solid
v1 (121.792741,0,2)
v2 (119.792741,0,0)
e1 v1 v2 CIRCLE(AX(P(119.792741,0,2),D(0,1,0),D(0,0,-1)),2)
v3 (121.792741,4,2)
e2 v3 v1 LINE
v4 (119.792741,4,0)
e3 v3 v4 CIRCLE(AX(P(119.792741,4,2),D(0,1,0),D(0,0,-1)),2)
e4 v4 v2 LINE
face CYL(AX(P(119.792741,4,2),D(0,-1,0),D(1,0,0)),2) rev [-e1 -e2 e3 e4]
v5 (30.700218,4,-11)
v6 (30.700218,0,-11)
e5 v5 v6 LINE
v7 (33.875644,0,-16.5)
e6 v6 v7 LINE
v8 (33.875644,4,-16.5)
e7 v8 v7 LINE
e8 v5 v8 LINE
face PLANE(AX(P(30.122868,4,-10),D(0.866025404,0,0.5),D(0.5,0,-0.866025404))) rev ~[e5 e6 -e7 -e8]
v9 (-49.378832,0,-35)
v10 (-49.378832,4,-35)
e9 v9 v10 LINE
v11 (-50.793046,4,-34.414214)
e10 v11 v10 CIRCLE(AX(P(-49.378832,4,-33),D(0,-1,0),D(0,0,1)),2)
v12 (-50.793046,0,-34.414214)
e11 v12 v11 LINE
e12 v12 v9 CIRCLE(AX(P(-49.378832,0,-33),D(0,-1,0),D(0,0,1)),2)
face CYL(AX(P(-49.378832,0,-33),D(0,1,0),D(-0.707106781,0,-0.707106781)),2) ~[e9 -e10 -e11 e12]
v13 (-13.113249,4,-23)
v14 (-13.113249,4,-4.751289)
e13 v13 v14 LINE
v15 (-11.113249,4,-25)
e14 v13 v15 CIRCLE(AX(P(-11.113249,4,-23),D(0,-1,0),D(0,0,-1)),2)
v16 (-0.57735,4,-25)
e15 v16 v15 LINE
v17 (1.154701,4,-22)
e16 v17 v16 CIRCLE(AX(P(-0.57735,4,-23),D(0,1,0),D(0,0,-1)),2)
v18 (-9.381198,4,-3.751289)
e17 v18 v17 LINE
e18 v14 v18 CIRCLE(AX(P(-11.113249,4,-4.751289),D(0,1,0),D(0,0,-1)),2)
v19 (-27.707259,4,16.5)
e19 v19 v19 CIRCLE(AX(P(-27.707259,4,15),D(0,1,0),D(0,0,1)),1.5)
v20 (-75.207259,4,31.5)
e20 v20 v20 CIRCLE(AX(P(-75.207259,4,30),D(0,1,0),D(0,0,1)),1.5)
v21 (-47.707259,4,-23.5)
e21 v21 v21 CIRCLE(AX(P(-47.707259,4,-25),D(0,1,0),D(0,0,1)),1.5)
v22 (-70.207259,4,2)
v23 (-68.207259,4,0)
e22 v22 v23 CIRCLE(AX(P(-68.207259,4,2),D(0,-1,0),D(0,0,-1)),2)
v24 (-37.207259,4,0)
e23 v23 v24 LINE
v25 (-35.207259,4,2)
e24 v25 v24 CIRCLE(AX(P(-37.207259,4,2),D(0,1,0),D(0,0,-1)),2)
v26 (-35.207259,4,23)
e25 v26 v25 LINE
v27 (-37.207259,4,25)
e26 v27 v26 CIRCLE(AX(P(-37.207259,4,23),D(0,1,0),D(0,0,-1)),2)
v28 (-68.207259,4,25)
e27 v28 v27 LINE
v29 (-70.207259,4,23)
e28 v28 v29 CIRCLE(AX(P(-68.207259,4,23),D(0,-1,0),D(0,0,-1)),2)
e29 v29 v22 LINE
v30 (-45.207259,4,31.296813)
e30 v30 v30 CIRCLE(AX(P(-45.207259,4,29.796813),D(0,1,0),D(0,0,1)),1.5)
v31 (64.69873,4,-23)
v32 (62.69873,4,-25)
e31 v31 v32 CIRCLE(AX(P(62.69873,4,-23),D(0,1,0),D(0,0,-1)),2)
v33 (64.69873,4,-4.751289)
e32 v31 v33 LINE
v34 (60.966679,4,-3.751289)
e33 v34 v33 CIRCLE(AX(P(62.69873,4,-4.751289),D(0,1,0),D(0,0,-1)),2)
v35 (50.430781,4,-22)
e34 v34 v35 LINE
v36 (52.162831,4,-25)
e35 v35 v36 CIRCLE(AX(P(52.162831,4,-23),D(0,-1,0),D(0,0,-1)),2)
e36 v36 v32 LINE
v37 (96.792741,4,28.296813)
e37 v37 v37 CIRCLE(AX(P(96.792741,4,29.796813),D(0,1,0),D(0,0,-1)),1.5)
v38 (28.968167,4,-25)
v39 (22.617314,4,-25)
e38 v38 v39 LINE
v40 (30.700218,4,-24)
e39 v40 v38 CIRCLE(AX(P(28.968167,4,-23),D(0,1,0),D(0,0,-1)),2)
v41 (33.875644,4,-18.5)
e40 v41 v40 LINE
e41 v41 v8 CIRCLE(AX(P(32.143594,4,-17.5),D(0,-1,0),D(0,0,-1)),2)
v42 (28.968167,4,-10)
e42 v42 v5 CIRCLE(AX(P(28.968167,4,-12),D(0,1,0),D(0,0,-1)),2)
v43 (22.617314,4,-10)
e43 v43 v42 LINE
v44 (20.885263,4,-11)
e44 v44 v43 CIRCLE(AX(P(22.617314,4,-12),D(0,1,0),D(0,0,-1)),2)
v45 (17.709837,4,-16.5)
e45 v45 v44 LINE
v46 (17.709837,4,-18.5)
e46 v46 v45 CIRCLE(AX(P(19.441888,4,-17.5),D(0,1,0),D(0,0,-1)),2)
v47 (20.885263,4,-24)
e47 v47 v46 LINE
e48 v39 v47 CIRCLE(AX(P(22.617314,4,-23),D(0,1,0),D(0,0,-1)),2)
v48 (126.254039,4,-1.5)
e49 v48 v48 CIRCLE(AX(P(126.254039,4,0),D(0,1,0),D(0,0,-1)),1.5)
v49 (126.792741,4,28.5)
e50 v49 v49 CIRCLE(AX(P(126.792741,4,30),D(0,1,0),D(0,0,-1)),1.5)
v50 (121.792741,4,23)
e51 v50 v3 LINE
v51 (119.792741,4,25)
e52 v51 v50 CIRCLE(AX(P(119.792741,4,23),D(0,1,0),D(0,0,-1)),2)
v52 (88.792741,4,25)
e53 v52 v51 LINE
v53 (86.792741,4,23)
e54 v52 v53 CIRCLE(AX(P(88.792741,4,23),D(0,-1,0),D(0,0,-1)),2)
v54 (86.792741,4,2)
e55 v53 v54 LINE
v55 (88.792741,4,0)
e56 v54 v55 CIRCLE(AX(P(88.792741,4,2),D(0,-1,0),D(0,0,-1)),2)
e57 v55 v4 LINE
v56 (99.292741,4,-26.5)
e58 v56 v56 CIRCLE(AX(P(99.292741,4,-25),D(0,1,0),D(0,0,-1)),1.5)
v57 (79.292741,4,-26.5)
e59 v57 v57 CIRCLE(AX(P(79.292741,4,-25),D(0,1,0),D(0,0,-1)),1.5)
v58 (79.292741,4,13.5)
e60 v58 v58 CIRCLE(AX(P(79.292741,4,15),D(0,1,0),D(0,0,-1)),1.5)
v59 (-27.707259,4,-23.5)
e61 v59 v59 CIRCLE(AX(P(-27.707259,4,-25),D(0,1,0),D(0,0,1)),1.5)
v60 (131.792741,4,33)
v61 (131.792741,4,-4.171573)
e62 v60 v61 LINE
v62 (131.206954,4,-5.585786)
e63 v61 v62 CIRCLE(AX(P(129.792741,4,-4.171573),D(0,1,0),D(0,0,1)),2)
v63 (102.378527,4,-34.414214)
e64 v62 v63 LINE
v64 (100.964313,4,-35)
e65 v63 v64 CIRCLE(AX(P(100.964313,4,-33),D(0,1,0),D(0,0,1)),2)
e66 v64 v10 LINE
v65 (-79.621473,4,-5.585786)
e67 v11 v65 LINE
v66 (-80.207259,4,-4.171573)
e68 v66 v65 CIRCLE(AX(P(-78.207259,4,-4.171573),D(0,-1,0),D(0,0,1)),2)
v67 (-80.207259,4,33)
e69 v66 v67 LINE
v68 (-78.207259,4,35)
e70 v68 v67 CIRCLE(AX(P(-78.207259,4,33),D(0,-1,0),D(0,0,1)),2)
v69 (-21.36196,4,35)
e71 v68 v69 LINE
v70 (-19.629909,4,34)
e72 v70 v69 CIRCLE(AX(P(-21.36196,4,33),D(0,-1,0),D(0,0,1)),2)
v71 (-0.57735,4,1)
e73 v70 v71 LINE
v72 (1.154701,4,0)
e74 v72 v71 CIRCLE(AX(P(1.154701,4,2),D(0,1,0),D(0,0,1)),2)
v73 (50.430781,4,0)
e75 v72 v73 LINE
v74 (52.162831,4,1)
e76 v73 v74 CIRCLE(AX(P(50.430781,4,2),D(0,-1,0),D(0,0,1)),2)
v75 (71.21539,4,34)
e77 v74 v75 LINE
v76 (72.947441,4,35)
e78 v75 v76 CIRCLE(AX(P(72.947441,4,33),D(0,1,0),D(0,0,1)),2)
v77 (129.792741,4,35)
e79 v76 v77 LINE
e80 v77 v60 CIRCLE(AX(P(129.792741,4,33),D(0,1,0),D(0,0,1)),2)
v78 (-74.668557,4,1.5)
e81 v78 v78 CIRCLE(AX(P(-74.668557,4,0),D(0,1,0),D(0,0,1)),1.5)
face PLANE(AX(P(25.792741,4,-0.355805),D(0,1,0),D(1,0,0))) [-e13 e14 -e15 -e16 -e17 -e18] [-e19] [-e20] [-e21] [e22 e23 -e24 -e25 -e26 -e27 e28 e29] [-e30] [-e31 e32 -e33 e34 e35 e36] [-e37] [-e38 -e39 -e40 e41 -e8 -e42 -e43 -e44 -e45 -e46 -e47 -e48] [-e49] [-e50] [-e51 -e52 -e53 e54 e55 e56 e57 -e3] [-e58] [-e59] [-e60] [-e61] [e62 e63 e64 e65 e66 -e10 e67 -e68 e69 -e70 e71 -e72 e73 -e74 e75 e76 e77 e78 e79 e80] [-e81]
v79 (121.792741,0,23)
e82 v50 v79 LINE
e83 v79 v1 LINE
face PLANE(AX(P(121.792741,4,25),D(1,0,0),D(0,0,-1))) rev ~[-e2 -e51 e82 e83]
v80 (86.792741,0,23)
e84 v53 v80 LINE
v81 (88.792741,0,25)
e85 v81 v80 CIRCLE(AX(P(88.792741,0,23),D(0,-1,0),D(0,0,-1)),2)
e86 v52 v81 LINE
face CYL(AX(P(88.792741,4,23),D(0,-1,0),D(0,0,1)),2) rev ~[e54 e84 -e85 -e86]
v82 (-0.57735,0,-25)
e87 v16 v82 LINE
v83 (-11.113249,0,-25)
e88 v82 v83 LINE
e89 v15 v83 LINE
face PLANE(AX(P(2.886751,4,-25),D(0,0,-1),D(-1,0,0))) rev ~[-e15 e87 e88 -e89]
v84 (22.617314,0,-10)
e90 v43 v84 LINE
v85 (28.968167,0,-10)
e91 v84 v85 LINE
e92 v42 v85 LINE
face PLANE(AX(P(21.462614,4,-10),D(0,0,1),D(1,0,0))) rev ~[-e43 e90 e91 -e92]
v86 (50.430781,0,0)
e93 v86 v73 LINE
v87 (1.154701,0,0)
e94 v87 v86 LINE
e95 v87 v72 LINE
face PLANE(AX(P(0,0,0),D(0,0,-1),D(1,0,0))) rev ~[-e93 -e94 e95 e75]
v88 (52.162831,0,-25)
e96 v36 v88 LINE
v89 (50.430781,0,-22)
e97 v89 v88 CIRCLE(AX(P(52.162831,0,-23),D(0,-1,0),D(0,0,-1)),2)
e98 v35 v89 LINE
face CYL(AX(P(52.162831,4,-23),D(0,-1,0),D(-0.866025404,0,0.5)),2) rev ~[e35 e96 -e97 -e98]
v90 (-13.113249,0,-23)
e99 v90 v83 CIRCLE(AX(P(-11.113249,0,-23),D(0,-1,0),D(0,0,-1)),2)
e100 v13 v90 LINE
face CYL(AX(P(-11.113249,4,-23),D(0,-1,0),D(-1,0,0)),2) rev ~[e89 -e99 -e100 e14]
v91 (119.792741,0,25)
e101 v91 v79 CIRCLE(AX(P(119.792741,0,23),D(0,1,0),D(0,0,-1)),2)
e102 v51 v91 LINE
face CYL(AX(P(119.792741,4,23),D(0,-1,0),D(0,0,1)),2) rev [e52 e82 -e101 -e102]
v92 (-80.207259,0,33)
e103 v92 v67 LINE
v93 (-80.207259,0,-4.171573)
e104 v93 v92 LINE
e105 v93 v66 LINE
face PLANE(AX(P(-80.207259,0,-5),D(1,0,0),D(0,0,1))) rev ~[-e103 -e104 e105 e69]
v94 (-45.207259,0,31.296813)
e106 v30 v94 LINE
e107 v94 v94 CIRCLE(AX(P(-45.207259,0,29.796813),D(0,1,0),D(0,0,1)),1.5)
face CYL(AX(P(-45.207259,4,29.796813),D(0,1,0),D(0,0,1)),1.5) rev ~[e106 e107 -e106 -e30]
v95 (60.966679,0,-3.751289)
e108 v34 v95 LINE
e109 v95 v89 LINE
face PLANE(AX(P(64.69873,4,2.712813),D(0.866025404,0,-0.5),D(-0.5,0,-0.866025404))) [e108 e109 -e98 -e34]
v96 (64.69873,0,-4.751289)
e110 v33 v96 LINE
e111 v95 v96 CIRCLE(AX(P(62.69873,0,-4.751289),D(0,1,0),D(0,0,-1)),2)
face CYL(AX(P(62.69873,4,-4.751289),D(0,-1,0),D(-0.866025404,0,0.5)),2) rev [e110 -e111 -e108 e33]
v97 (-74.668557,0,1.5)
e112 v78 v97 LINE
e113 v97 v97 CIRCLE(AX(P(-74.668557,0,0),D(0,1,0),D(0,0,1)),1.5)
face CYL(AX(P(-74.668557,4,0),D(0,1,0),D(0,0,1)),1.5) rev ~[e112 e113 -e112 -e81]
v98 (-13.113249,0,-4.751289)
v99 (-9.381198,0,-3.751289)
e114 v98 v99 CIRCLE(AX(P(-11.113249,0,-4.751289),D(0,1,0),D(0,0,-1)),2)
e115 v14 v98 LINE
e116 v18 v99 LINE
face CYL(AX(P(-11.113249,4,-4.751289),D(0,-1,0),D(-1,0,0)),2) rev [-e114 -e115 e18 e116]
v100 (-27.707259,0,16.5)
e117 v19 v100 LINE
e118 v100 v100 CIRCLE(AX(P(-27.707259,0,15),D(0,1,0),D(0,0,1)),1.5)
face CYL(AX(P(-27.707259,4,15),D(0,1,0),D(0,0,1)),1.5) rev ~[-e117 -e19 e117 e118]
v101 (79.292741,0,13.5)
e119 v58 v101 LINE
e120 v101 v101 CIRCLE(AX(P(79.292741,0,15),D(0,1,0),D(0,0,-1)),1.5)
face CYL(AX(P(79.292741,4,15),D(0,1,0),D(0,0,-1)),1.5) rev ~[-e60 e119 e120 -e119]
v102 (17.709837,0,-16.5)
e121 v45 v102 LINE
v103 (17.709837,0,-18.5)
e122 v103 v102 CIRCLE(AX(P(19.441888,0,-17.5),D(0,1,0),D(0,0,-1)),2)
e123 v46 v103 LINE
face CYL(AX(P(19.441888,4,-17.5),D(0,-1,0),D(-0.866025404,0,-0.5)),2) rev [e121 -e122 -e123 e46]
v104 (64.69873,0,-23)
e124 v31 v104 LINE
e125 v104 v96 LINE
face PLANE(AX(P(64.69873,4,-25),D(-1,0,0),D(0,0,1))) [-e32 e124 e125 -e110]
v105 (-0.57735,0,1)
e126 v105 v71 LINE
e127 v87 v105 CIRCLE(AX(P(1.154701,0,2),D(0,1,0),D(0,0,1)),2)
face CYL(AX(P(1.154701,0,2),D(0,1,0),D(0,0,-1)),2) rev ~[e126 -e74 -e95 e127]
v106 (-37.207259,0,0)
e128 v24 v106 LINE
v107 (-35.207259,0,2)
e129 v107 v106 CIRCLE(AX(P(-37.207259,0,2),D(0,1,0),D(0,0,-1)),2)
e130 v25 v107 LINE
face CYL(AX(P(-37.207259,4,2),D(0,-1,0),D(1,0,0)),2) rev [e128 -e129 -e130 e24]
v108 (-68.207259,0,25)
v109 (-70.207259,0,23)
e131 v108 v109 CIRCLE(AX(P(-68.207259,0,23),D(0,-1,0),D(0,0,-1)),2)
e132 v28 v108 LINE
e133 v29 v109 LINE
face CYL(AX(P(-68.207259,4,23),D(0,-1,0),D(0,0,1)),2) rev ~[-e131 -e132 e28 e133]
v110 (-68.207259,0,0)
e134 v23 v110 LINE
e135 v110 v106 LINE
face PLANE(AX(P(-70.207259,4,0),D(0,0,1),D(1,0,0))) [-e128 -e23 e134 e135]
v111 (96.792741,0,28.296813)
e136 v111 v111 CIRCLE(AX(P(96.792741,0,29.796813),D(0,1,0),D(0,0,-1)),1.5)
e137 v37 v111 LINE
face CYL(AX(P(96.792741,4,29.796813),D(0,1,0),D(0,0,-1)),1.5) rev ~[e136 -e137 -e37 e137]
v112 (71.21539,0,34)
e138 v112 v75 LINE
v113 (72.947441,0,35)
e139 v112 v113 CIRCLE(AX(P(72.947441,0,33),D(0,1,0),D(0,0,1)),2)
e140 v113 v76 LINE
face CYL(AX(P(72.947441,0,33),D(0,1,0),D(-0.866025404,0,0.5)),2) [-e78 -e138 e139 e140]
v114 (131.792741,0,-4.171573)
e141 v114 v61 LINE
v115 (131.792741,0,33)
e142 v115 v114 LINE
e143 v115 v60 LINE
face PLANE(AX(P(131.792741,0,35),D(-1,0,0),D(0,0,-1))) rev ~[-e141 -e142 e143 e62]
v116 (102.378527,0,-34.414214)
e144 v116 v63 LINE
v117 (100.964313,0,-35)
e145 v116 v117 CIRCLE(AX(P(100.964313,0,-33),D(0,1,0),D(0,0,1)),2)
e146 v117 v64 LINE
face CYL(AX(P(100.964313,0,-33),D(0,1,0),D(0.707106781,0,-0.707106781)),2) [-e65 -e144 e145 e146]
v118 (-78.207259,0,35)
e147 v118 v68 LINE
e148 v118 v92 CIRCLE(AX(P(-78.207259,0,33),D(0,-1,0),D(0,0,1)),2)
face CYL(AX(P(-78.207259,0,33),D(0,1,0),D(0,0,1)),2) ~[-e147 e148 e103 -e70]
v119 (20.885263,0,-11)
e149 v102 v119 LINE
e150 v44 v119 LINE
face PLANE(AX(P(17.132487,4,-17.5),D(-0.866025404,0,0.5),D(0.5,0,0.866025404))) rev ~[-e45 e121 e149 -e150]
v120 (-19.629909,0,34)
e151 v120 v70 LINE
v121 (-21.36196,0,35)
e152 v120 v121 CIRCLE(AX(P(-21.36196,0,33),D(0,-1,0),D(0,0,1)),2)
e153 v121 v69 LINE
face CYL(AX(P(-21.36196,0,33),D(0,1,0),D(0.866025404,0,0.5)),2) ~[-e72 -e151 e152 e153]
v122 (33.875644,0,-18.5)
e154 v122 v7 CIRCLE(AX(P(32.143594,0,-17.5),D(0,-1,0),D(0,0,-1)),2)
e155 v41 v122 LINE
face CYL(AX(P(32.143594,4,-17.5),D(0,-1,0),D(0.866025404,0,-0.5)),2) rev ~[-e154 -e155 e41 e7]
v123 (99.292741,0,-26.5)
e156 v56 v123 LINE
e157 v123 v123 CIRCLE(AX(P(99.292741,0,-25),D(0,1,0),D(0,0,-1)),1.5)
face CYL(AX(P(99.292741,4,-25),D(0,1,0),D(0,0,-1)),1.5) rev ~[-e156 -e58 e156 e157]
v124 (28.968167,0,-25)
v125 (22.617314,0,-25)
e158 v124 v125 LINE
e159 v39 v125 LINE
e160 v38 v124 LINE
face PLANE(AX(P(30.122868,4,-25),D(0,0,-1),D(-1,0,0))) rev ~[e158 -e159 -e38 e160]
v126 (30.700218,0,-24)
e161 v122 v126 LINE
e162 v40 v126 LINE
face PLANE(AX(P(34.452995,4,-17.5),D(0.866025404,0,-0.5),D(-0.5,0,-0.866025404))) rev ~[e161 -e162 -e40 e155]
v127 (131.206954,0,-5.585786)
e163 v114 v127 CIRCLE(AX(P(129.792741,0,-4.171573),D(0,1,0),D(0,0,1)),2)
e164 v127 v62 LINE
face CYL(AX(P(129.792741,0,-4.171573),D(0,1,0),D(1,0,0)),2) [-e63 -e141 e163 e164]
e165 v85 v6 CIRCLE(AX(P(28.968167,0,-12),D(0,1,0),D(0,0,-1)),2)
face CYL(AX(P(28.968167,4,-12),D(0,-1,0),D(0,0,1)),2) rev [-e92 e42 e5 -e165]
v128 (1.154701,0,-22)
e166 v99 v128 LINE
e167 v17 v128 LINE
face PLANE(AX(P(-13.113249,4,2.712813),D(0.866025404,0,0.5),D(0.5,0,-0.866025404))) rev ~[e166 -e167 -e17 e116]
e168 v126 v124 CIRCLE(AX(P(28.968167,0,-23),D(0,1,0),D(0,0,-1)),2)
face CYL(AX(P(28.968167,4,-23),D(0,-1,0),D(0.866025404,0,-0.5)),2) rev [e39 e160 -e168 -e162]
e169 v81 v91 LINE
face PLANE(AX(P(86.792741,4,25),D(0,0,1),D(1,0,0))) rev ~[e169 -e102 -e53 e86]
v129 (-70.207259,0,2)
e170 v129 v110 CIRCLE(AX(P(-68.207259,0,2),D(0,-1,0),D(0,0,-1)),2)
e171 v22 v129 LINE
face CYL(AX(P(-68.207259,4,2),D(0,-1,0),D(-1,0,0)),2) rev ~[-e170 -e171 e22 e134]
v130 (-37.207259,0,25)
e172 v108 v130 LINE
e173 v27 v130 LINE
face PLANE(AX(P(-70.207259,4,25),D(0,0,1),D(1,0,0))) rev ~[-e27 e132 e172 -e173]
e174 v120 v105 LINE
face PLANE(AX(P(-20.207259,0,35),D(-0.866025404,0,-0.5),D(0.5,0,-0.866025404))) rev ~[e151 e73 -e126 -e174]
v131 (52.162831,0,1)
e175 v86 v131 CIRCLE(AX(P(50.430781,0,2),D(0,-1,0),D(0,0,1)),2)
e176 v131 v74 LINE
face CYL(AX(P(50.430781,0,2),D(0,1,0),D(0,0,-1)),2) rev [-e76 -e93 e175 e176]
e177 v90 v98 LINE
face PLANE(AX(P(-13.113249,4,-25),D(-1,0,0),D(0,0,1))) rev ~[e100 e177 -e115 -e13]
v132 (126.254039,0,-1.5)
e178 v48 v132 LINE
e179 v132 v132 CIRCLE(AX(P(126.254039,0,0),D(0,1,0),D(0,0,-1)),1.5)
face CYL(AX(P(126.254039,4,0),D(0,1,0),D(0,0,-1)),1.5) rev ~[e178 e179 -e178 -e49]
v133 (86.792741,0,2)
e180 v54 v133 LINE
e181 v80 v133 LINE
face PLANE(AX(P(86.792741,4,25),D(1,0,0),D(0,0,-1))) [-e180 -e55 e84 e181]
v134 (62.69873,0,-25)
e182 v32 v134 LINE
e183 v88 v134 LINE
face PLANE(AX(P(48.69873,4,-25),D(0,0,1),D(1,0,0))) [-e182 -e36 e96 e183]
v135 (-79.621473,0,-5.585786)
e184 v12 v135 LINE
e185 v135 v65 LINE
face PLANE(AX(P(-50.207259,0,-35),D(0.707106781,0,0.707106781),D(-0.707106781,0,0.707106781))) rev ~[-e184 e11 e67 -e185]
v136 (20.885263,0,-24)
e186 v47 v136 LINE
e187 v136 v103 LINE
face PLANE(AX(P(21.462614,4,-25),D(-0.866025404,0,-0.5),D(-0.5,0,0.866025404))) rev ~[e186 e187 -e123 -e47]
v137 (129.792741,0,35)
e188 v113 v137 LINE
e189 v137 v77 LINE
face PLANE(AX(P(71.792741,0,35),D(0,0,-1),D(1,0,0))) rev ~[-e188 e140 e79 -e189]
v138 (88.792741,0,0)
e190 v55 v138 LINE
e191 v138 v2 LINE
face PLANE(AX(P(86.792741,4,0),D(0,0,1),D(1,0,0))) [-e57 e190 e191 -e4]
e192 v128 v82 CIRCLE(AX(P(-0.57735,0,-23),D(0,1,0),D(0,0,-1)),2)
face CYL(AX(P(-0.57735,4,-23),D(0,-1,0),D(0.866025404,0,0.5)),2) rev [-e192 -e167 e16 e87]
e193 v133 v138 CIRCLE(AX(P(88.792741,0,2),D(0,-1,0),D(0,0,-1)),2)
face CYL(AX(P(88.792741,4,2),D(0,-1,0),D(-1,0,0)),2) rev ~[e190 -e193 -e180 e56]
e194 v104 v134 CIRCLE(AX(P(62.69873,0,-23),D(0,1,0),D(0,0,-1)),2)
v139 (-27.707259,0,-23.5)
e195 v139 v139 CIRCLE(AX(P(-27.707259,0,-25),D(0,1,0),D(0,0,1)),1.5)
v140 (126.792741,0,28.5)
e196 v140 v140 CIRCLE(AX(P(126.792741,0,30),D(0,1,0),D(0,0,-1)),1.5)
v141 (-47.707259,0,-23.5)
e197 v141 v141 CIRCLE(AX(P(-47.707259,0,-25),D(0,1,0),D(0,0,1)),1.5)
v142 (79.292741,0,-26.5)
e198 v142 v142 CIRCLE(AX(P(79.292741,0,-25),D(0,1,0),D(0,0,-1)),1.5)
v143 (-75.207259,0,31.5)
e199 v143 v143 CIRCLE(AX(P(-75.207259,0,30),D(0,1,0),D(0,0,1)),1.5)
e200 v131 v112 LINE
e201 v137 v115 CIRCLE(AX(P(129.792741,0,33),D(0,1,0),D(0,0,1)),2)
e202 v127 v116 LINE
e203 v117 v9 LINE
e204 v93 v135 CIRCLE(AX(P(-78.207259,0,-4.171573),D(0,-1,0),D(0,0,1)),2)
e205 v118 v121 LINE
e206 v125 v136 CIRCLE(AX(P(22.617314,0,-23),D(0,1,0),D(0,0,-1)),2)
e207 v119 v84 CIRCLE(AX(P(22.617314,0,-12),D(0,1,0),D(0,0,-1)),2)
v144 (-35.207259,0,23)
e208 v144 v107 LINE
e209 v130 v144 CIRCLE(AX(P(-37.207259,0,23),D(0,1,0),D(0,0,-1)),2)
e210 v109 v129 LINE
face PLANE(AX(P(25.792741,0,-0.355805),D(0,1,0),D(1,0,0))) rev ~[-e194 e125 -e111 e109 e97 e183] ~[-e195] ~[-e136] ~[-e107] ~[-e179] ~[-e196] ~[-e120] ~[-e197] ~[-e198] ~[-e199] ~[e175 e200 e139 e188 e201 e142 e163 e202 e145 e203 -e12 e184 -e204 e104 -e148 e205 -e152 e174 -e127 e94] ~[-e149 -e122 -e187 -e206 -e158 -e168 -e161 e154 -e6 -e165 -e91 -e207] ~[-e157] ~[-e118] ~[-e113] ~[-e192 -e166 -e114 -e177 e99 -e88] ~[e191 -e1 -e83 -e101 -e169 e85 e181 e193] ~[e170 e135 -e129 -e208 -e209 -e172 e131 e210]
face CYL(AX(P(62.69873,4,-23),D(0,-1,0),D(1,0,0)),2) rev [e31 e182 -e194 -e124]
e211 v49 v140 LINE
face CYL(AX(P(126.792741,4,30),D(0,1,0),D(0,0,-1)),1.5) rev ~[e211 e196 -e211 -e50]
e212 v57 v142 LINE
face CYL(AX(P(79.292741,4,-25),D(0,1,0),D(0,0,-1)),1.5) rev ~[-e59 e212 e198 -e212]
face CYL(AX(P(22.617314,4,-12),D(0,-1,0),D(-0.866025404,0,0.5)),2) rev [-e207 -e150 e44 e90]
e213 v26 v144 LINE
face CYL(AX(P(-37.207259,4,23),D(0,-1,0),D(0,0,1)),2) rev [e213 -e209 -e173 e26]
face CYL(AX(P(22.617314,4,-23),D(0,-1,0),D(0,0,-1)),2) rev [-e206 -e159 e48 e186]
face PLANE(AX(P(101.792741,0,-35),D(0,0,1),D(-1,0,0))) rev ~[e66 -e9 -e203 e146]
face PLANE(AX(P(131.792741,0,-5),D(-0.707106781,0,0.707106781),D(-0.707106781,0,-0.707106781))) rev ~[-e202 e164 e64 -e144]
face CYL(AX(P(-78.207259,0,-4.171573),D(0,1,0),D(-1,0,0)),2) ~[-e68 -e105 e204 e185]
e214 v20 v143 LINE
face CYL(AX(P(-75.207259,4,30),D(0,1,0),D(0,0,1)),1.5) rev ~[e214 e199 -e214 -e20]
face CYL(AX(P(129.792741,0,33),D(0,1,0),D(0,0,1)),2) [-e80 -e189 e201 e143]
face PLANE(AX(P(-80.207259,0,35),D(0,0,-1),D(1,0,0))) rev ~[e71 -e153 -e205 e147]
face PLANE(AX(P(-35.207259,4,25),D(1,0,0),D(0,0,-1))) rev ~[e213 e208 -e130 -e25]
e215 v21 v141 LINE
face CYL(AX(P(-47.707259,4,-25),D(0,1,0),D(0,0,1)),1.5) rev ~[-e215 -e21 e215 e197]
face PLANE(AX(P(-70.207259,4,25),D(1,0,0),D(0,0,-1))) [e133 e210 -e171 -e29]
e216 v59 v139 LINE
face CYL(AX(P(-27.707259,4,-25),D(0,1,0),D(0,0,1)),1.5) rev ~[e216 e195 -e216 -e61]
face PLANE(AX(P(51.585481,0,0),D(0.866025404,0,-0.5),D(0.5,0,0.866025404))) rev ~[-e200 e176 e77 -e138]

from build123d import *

# Parameters (mm, degrees)
EXTRUDE_1_DEPTH     = 4
SKETCH_2_W          = 35
SKETCH_2_H          = 25
CUT_EXTRUDE_1_DEPTH = 4
SKETCH_3_R          = 1.5
CUT_EXTRUDE_2_DEPTH = 4
CUT_EXTRUDE_3_DEPTH = 4
FILLET_1_R          = 2


with BuildPart() as part:
    # 草图1 → 凸台-拉伸1 (new body)
    with BuildSketch(Plane(origin=(0, 0, 0), x_dir=(1, 0, 0), z_dir=(0, 1, 0))):
        Polygon((0, 0), (51.585481157, 0), (71.792740578, -35), (131.792740578, -35), (131.792740578, 5), (101.792740578, 35), (-50.207259422, 35), (-80.207259422, 5), (-80.207259422, -35), (-20.207259422, -35), align=None)
    extrude(amount=EXTRUDE_1_DEPTH)

    # 草图2 → 切除-拉伸1 (cut)
    with BuildSketch(Plane(origin=(0, 4, 0), x_dir=(1, 0, 0), z_dir=(0, 1, 0))):
        with Locations((-52.707259422, -12.5)):
            Rectangle(SKETCH_2_W, SKETCH_2_H)
        with Locations((104.292740578, -12.5)):
            Rectangle(SKETCH_2_W, SKETCH_2_H)
    extrude(amount=-CUT_EXTRUDE_1_DEPTH, mode=Mode.SUBTRACT)

    # 草图3 → 切除-拉伸2 (cut)
    with BuildSketch(Plane(origin=(0, 4, 0), x_dir=(1, 0, 0), z_dir=(0, 1, 0))):
        with Locations(Location((-75.207259422, -30, 0), (0, 0, 270))):
            Circle(SKETCH_3_R)
        with Locations(Location((-45.207259422, -29.79681333, 0), (0, 0, 270))):
            Circle(SKETCH_3_R)
        with Locations(Location((-74.668557439, 0, 0), (0, 0, 270))):
            Circle(SKETCH_3_R)
        with Locations(Location((126.254038596, 0, 0), (0, 0, 90))):
            Circle(SKETCH_3_R)
        with Locations(Location((96.792740578, -29.79681333, 0), (0, 0, 90))):
            Circle(SKETCH_3_R)
        with Locations(Location((126.792740578, -30, 0), (0, 0, 90))):
            Circle(SKETCH_3_R)
        with Locations(Location((-27.707259422, -15, 0), (0, 0, 270))):
            Circle(SKETCH_3_R)
        with Locations(Location((-47.707259422, 25, 0), (0, 0, 270))):
            Circle(SKETCH_3_R)
        with Locations(Location((-27.707259422, 25, 0), (0, 0, 270))):
            Circle(SKETCH_3_R)
        with Locations(Location((79.292740578, -15, 0), (0, 0, 90))):
            Circle(SKETCH_3_R)
        with Locations(Location((99.292740578, 25, 0), (0, 0, 90))):
            Circle(SKETCH_3_R)
        with Locations(Location((79.292740578, 25, 0), (0, 0, 90))):
            Circle(SKETCH_3_R)
    extrude(amount=-CUT_EXTRUDE_2_DEPTH, mode=Mode.SUBTRACT)

    # 草图4 → 切除-拉伸3 (cut)
    with BuildSketch(Plane(origin=(0, 4, 0), x_dir=(1, 0, 0), z_dir=(0, 1, 0))):
        Polygon((34.452994616, 17.5), (30.122867597, 25), (21.462613559, 25), (17.132486541, 17.5), (21.462613559, 10), (30.122867597, 10), align=None)
        Polygon((48.698729811, 25), (64.698729811, 25), (64.698729811, -2.712812921), align=None)
        Polygon((-13.113248654, 25), (-13.113248654, -2.712812921), (2.886751346, 25), align=None)
    extrude(amount=-CUT_EXTRUDE_3_DEPTH, mode=Mode.SUBTRACT)

    # 圆角1
    fillet_1_edges = [part.edges().sort_by_distance(p)[0] for p in [
        (34.452994616, 2, -17.5),
        (30.122867597, 2, -10),
        (21.462613559, 2, -10),
        (17.132486541, 2, -17.5),
        (21.462613559, 2, -25),
        (30.122867597, 2, -25),
        (64.698729811, 2, -25),
        (64.698729811, 2, 2.712812921),
        (48.698729811, 2, -25),
        (-13.113248654, 2, -25),
        (2.886751346, 2, -25),
        (-13.113248654, 2, 2.712812921),
        (-20.207259422, 2, 35),
        (-80.207259422, 2, 35),
        (-80.207259422, 2, -5),
        (-50.207259422, 2, -35),
        (101.792740578, 2, -35),
        (131.792740578, 2, -5),
        (131.792740578, 2, 35),
        (71.792740578, 2, 35),
        (51.585481157, 2, 0),
        (0, 2, 0),
        (-70.207259422, 2, 25),
        (-70.207259422, 2, 0),
        (-35.207259422, 2, 0),
        (-35.207259422, 2, 25),
        (121.792740578, 2, 0),
        (121.792740578, 2, 25),
        (86.792740578, 2, 25),
        (86.792740578, 2, 0),
    ]]
    fillet(fillet_1_edges, radius=FILLET_1_R)


solid = part.part
